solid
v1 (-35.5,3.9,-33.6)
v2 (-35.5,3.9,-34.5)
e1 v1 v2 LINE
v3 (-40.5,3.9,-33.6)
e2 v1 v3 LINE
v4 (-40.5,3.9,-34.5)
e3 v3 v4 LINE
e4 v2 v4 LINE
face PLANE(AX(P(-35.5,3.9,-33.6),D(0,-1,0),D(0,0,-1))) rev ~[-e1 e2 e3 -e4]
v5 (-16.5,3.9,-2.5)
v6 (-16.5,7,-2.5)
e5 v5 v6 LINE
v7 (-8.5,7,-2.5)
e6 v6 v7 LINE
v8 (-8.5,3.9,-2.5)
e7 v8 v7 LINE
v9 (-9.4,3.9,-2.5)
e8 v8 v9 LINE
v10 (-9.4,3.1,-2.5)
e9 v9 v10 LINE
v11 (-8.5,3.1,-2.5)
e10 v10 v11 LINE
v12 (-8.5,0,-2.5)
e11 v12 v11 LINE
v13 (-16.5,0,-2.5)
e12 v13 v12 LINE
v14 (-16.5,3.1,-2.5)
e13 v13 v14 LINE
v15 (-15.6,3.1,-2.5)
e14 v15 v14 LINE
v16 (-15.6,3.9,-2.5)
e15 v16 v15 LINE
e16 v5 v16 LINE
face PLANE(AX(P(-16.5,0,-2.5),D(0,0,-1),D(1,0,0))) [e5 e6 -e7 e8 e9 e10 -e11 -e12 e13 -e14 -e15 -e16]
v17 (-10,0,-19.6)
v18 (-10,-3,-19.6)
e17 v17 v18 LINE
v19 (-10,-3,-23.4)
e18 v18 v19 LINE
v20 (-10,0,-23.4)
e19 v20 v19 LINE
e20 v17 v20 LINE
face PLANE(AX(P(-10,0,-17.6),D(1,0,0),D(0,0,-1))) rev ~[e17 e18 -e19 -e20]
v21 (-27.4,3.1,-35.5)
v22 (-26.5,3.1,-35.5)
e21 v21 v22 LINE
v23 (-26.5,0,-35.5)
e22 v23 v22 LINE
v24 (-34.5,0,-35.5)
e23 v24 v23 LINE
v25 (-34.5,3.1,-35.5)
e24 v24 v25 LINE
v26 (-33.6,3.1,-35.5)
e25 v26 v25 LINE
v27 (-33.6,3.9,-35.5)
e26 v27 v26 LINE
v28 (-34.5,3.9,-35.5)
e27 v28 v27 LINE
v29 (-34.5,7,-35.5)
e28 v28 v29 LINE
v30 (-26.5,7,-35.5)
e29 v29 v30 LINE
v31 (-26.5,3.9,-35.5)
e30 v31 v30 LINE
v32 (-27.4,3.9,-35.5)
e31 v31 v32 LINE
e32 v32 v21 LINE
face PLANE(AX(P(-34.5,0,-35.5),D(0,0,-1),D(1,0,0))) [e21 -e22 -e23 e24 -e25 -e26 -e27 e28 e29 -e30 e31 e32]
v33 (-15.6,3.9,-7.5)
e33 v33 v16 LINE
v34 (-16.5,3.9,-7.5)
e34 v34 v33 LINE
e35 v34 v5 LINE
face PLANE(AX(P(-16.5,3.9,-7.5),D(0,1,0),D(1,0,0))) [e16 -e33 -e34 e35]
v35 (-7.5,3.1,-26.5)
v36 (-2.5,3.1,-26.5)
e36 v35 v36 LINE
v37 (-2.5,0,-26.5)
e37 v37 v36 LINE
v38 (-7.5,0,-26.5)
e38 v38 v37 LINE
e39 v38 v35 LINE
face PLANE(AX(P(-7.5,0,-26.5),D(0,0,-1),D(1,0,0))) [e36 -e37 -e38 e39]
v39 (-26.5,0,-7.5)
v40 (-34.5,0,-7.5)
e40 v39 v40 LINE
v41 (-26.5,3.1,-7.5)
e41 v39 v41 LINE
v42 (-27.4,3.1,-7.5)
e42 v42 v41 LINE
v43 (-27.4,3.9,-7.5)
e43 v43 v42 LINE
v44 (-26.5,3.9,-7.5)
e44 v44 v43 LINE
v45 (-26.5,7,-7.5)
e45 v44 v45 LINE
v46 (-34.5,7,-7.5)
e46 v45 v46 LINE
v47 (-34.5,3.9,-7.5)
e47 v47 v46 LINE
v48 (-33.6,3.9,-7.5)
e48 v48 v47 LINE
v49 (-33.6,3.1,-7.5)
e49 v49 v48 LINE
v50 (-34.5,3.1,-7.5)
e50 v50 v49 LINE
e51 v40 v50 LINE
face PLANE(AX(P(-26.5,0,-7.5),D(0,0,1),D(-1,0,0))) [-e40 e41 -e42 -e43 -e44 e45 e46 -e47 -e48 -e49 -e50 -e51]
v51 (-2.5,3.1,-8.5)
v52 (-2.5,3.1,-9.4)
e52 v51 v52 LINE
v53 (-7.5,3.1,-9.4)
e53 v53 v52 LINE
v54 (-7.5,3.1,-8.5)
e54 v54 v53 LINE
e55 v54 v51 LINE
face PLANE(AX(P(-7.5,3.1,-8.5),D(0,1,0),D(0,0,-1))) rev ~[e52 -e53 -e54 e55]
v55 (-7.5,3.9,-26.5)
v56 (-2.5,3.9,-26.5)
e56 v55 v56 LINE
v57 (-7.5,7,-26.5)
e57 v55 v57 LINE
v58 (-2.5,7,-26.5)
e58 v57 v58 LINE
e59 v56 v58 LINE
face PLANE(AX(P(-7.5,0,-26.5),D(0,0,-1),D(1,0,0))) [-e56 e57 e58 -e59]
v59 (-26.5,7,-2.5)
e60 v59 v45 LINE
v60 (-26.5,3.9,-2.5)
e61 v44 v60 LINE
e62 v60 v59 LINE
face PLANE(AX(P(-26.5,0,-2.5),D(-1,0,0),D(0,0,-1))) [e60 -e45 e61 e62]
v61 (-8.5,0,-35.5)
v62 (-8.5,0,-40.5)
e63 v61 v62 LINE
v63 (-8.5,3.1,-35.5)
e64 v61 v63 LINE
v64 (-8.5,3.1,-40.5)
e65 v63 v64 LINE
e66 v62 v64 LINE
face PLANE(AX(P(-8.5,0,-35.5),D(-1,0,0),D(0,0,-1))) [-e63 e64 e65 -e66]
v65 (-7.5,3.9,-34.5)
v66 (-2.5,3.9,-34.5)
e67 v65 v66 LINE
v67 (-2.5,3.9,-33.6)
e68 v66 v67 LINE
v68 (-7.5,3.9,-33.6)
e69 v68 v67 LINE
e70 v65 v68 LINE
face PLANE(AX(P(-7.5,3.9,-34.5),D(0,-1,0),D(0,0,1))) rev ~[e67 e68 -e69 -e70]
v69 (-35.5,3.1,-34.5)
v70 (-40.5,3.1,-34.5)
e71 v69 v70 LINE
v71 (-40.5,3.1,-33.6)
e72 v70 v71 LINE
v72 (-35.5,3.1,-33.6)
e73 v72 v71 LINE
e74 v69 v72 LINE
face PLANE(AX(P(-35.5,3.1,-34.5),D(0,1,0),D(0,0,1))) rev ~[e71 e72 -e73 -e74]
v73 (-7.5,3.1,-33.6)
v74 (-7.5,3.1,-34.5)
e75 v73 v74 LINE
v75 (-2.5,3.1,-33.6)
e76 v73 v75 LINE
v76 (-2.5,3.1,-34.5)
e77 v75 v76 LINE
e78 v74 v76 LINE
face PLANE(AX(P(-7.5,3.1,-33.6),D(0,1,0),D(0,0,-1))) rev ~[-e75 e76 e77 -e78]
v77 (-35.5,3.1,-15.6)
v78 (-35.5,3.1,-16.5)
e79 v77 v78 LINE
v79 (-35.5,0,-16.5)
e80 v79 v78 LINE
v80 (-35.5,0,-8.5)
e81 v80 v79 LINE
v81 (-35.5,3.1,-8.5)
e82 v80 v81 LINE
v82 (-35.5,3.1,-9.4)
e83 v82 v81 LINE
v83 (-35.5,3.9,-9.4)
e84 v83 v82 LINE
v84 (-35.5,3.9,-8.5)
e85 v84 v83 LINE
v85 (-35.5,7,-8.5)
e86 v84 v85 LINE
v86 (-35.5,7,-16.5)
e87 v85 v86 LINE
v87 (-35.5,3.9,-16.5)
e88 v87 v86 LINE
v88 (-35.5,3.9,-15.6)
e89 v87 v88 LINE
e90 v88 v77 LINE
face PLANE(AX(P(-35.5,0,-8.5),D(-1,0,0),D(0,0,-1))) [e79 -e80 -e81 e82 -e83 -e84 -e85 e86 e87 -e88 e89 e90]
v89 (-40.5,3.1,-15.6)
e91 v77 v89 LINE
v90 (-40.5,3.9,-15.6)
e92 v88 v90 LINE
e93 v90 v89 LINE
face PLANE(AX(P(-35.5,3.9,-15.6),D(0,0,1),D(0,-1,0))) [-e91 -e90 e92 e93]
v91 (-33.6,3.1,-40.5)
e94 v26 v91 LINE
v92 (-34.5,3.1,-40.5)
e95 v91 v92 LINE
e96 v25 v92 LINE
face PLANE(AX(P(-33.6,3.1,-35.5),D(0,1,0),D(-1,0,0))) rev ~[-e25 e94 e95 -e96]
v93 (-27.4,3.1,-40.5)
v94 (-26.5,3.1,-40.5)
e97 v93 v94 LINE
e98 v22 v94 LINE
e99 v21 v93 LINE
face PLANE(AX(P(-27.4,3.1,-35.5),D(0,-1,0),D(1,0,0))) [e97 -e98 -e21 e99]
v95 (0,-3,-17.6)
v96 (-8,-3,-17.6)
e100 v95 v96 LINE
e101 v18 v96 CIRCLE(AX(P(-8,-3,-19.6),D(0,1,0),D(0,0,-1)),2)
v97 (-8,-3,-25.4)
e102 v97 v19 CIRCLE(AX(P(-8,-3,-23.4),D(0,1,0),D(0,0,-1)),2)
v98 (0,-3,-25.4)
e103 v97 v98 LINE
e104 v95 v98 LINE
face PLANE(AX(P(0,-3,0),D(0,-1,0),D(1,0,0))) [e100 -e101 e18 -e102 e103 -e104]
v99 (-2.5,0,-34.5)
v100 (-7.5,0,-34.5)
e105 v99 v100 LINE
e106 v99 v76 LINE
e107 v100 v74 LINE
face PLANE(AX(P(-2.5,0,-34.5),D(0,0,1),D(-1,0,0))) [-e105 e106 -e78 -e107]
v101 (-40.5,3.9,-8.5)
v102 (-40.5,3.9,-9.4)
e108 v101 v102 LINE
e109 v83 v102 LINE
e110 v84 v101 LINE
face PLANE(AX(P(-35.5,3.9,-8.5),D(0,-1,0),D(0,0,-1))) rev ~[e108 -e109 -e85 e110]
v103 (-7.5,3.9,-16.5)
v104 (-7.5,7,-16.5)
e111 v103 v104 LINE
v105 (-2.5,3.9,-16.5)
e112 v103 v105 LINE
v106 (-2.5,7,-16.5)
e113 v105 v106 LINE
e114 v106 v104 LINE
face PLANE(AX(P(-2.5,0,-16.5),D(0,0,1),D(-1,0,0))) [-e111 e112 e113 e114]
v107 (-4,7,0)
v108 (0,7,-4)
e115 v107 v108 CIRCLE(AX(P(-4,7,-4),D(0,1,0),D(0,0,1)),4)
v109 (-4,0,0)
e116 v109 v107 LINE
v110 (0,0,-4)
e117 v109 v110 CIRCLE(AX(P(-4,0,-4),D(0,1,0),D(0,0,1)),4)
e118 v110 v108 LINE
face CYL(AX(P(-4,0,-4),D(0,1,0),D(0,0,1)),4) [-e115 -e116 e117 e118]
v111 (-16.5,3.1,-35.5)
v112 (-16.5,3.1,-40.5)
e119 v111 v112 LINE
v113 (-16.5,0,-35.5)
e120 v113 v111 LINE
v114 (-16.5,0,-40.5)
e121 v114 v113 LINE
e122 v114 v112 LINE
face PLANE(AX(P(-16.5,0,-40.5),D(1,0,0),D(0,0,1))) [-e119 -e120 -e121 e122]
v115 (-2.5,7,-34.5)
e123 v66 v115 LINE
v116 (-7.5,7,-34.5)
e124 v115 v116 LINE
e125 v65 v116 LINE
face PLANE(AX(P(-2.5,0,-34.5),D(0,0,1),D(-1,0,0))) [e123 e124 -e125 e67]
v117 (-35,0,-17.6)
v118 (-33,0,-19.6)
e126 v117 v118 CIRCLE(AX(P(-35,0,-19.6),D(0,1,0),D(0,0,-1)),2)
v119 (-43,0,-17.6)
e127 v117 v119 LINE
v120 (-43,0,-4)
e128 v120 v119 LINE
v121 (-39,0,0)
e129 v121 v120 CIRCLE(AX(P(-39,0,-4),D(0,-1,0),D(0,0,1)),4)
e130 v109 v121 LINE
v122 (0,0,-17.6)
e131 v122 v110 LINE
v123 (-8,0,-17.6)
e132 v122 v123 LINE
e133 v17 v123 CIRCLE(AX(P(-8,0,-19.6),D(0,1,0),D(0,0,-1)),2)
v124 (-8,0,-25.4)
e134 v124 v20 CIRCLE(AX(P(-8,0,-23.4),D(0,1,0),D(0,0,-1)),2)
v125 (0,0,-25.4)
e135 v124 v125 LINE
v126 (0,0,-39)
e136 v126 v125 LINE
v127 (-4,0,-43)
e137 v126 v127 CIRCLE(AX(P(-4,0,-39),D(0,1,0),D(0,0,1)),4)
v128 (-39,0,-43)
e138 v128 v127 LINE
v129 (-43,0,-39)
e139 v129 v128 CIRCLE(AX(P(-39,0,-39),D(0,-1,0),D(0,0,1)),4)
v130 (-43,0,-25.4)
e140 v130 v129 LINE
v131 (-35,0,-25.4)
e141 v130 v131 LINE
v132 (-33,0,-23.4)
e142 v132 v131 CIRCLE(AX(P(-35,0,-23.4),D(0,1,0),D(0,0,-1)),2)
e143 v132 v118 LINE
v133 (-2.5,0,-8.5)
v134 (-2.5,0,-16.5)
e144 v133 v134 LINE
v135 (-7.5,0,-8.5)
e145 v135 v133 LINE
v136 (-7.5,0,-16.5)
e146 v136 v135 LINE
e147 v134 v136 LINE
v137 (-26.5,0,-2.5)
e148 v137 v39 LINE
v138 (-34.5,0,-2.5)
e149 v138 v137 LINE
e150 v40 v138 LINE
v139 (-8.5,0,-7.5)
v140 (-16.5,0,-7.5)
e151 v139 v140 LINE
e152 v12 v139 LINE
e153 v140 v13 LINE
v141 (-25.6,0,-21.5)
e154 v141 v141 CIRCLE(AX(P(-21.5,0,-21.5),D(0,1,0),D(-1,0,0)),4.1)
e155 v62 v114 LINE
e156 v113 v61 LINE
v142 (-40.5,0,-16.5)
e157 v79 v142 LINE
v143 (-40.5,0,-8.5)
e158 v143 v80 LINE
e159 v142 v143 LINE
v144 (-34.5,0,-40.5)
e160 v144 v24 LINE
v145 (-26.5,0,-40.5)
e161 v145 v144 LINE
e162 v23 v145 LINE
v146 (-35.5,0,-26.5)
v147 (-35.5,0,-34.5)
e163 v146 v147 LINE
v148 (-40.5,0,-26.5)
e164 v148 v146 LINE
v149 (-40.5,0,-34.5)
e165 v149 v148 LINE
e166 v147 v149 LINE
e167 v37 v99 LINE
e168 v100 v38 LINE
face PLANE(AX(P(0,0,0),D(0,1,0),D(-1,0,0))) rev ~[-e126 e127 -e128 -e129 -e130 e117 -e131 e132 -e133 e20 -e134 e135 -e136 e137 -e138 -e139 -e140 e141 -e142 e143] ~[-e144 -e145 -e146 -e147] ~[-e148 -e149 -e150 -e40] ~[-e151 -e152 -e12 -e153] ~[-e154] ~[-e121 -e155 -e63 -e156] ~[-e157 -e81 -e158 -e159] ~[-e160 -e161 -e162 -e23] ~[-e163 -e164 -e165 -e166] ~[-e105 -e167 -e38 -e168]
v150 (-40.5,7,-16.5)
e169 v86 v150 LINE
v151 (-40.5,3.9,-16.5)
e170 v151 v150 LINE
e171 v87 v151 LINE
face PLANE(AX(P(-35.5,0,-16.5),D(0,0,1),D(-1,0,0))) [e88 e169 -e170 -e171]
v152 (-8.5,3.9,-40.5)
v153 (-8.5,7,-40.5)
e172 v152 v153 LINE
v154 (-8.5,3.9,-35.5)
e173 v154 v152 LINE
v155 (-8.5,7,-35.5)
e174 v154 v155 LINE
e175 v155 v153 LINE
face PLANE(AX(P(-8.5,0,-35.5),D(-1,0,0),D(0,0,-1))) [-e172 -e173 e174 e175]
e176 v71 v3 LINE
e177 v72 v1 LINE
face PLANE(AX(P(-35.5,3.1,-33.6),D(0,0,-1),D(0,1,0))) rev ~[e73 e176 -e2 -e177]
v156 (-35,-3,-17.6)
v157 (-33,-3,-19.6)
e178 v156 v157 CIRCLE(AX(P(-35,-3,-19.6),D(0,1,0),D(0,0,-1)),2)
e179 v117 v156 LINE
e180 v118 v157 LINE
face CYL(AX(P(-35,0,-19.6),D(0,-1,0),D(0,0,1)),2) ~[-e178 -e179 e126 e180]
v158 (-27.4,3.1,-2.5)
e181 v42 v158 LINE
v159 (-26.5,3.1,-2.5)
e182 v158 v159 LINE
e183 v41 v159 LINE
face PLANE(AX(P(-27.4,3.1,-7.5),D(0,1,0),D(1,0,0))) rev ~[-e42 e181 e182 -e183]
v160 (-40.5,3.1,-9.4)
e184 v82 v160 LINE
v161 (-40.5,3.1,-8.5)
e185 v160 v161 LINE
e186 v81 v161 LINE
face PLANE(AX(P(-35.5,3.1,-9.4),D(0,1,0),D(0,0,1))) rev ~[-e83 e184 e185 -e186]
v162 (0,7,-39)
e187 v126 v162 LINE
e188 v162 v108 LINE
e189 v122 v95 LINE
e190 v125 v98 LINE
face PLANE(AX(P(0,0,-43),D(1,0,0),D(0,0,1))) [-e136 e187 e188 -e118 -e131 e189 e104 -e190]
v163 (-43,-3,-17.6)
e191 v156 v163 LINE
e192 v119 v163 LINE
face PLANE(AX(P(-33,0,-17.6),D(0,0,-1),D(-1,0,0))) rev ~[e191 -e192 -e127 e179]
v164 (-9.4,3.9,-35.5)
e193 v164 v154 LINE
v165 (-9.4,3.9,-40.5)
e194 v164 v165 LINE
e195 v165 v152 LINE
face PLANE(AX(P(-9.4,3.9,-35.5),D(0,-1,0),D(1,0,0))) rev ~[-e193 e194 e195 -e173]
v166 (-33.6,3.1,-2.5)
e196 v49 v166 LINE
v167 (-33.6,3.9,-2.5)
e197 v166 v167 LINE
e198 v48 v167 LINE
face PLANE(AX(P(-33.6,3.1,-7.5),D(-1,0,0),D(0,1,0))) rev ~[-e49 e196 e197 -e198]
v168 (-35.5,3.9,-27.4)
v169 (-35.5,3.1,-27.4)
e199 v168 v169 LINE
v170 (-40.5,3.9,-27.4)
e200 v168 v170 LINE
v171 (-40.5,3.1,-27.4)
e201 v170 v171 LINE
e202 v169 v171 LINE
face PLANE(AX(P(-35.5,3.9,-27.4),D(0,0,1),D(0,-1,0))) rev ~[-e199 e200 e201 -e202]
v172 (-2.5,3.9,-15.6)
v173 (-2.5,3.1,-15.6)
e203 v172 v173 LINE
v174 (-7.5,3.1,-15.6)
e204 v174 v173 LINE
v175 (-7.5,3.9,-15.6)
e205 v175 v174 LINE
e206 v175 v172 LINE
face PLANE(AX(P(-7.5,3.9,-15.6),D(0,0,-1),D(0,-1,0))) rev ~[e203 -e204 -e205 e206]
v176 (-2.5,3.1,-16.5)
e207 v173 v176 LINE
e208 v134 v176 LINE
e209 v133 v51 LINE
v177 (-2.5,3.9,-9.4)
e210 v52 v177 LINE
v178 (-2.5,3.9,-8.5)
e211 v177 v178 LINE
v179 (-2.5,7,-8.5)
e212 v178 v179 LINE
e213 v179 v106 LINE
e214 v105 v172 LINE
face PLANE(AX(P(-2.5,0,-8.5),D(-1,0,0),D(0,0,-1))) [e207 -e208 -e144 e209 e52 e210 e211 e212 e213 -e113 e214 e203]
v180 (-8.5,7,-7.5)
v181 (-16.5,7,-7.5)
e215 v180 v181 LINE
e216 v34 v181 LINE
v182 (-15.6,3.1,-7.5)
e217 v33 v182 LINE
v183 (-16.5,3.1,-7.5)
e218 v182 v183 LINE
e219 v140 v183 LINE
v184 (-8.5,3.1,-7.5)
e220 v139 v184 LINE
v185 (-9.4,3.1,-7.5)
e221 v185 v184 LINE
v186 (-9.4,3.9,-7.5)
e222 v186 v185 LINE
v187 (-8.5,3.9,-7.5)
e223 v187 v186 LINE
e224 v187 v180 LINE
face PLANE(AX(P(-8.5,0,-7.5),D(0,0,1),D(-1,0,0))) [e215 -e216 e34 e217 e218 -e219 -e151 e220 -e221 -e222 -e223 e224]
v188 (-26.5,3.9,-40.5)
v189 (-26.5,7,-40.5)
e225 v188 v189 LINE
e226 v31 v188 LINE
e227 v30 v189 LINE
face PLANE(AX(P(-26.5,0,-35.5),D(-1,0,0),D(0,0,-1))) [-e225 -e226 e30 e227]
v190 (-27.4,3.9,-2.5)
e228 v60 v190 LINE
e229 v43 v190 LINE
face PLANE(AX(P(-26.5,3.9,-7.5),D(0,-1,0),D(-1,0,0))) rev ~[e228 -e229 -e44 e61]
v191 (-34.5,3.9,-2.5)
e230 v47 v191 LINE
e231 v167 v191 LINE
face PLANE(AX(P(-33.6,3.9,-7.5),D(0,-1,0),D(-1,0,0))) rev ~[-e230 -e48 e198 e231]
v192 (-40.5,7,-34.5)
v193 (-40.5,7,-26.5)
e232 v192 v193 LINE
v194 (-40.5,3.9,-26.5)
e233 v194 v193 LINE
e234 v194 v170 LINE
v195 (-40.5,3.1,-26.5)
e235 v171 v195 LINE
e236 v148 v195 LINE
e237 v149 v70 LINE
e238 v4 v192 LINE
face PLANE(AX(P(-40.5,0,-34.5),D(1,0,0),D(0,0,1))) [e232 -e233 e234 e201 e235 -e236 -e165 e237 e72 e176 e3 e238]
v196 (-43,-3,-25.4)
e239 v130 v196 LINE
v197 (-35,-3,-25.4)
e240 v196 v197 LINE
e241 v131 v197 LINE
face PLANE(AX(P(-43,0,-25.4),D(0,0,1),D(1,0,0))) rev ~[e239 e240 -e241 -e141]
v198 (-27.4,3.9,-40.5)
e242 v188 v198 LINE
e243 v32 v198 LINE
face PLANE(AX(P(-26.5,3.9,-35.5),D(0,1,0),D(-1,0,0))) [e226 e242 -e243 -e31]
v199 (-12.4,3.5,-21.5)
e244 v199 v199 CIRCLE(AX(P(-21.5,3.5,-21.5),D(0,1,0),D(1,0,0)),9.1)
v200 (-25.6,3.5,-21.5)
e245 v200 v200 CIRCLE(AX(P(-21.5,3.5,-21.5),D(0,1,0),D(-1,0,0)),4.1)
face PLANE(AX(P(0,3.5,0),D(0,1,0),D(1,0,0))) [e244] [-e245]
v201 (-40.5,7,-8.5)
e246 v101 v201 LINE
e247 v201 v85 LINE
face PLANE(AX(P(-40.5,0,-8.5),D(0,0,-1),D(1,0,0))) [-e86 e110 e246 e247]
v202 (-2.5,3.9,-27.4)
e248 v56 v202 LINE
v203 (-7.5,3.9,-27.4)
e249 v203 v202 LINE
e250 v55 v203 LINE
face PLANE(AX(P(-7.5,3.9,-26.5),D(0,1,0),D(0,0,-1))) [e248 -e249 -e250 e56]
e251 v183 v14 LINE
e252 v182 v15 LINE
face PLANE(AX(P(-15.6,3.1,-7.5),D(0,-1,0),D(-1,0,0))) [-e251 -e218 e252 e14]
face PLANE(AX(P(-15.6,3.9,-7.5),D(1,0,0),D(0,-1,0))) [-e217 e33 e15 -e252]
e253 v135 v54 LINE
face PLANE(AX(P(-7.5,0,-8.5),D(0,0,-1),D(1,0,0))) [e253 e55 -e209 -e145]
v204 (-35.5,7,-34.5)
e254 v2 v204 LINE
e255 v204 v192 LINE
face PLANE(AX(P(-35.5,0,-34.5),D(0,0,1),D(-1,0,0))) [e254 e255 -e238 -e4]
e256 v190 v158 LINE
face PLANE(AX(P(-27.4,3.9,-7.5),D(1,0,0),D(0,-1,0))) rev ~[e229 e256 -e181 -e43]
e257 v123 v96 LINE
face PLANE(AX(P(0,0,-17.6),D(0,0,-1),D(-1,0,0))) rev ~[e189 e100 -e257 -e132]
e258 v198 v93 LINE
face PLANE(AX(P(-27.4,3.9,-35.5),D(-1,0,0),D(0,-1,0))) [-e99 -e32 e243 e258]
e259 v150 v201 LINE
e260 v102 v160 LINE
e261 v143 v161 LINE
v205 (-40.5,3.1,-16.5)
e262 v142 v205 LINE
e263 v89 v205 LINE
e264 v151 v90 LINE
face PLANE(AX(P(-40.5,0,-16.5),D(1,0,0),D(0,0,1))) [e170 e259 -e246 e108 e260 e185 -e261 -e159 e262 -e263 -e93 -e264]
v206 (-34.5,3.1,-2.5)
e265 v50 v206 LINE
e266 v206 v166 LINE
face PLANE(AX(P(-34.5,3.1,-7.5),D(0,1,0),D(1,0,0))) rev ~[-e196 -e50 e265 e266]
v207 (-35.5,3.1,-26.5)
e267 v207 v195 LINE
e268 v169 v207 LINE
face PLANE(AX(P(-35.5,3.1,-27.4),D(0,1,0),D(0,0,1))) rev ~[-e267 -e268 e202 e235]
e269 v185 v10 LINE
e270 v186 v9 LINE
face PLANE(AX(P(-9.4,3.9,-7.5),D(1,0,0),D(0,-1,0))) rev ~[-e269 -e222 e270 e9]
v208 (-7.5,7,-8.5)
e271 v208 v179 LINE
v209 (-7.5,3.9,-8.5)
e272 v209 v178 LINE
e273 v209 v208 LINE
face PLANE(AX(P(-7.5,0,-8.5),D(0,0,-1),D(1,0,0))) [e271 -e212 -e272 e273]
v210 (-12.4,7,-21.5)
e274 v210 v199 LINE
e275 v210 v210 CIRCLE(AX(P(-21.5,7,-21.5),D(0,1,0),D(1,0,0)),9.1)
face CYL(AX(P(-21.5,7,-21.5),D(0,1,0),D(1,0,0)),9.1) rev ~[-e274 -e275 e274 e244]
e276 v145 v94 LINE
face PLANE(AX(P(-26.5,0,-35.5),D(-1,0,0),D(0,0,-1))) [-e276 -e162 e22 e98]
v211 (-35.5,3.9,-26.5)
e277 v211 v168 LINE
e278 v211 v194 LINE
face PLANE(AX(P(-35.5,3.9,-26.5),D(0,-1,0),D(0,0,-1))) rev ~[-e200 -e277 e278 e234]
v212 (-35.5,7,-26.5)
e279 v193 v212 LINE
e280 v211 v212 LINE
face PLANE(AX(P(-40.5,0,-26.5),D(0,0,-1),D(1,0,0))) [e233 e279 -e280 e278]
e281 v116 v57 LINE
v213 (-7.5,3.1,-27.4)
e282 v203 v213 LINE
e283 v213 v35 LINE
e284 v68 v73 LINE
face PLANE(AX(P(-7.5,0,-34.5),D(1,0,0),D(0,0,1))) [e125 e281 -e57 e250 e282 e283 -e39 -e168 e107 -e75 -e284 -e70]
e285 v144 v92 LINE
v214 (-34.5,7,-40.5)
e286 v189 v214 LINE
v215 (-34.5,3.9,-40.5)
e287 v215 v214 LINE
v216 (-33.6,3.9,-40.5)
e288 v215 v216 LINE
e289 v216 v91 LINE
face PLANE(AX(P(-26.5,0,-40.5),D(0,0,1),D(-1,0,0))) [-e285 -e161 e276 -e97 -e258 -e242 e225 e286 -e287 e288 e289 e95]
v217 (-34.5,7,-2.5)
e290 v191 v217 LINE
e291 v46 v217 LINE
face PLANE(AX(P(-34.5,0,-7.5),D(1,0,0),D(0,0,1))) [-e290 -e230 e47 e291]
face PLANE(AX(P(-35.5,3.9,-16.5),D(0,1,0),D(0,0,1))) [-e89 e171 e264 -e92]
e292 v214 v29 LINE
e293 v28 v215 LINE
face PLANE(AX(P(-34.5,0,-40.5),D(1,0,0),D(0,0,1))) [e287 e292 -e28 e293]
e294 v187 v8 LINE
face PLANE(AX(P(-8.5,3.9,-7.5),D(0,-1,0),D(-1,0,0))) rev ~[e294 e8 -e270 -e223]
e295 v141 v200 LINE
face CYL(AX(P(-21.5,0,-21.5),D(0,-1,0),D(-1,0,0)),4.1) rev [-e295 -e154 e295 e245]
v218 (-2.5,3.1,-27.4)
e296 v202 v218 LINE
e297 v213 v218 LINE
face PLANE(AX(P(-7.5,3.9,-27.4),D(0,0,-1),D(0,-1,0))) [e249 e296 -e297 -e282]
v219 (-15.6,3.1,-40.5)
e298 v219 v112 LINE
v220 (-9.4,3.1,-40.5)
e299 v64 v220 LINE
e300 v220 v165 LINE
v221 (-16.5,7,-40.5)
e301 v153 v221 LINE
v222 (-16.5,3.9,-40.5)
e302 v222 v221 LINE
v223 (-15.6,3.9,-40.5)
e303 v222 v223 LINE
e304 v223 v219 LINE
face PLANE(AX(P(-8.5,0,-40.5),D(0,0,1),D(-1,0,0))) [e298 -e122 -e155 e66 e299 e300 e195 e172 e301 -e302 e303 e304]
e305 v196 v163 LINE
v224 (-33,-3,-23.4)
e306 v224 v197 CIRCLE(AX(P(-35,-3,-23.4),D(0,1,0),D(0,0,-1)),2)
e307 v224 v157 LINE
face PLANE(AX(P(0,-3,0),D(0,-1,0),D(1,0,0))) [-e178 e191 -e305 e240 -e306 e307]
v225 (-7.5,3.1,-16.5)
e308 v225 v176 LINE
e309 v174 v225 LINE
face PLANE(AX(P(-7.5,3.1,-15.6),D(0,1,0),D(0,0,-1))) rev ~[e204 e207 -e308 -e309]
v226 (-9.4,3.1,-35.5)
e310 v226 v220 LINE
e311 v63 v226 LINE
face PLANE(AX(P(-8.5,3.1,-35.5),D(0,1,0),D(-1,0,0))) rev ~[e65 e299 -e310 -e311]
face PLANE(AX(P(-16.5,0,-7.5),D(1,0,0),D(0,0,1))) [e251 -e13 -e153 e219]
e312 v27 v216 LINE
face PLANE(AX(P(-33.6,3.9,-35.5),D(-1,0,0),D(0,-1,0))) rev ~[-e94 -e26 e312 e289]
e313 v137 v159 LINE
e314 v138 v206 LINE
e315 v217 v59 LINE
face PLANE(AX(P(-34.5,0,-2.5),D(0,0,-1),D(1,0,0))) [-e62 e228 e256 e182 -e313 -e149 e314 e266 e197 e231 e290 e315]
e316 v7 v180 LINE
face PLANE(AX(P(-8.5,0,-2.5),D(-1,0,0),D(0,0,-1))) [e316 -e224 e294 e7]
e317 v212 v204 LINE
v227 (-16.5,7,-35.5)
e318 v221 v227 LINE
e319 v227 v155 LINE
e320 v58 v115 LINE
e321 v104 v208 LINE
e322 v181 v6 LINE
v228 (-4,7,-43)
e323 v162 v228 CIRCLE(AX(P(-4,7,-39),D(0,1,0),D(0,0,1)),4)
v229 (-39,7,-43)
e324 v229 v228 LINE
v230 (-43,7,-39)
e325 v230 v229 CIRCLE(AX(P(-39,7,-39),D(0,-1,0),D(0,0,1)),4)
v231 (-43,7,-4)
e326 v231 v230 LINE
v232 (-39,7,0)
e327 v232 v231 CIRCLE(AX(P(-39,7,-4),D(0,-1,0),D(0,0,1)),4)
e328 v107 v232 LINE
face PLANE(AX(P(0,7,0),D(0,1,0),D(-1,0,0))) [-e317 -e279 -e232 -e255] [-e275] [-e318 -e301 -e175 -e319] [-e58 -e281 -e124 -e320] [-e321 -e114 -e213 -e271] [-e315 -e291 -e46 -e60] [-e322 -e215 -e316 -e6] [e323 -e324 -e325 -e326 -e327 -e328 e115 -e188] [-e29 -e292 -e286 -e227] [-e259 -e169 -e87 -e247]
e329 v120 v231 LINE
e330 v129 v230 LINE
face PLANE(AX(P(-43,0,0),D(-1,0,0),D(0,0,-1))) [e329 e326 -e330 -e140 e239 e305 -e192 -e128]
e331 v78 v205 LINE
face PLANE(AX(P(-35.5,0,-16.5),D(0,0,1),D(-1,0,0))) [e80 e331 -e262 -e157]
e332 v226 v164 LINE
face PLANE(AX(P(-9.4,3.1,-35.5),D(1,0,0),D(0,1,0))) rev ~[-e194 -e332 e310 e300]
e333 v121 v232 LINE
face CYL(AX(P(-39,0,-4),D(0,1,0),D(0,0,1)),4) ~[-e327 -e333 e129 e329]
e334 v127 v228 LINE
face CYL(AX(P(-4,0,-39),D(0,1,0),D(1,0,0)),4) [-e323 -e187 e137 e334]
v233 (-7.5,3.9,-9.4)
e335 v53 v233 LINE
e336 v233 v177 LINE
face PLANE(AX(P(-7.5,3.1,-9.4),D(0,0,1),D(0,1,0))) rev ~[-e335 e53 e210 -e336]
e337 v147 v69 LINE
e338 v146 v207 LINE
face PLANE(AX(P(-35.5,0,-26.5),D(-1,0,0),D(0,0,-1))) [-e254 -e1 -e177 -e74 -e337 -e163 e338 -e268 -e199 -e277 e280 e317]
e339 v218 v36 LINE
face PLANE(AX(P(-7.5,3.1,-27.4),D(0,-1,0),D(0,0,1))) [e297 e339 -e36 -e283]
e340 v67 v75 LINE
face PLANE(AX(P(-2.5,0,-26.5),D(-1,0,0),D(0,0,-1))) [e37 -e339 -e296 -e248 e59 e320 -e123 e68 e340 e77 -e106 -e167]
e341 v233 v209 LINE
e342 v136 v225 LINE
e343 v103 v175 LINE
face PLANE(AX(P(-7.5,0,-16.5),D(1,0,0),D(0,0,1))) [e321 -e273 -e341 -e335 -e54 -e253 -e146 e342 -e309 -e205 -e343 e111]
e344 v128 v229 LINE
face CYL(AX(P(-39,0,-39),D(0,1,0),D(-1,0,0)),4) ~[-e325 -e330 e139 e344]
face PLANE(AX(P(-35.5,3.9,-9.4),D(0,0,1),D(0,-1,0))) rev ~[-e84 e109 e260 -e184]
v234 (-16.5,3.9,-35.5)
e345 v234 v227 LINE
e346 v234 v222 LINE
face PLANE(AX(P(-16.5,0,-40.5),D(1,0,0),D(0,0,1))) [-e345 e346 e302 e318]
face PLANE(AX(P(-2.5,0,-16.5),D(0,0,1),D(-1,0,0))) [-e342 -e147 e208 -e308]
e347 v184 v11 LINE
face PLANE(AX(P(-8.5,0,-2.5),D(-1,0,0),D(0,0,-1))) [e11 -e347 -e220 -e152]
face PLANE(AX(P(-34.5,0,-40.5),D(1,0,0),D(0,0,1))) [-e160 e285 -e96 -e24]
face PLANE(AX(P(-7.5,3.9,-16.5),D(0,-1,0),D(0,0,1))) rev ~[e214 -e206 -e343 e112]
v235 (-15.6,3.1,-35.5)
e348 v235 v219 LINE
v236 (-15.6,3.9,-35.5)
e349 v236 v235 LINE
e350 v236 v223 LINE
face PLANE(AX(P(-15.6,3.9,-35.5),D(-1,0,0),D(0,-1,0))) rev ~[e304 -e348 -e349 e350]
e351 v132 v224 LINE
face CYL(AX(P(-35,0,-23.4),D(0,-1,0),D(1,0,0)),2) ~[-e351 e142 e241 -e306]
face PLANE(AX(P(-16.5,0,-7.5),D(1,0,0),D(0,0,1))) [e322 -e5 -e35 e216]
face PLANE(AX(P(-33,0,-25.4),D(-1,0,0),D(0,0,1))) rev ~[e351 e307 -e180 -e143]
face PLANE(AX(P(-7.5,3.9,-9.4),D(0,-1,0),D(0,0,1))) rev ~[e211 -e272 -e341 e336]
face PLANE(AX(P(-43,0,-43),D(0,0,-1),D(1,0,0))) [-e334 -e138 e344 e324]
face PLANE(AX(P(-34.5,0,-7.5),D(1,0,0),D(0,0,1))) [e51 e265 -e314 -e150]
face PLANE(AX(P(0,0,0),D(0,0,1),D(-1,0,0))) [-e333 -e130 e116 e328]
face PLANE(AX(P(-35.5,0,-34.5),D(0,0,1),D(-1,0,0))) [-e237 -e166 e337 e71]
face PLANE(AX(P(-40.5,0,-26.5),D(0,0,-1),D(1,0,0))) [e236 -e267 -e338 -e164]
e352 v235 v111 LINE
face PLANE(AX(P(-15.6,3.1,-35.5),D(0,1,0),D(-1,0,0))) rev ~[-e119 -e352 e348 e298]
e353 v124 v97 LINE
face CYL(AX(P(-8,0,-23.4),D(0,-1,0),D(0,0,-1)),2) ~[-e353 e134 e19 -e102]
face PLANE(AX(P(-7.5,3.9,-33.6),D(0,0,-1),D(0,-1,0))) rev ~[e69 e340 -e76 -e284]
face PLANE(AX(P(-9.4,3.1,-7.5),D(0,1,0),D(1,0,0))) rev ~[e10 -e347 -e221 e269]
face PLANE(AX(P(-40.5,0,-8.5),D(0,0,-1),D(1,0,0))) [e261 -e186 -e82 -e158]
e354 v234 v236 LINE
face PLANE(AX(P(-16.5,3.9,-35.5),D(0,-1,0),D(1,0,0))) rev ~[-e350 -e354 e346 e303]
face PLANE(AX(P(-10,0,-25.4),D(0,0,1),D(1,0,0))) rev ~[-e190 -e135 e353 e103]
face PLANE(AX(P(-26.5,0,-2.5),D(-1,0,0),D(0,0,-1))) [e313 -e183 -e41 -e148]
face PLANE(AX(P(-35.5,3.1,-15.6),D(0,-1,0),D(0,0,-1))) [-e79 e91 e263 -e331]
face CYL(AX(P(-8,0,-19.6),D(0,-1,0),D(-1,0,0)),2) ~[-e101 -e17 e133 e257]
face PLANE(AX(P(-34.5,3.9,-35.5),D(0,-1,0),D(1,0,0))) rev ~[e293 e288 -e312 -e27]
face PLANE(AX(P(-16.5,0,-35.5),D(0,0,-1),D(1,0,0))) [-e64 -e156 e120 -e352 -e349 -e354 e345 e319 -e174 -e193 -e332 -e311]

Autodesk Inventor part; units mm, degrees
ref_plane "YZ Plane" through (0, 0, 0) normal (1, 0, 0) x (0, 1, 0)
ref_plane "XZ Plane" through (0, 0, 0) normal (0, 1, 0) x (-1, 0, 0)
ref_plane "XY Plane" through (0, 0, 0) normal (0, 0, 1) x (1, 0, 0)
sketch "Sketch1" plane through (0, 0, 0) normal (0, 1, 0) x (-1, 0, 0)
  line L0 (0, 0) -> (43, 0)
  line L1 (43, 0) -> (43, -43)
  line L2 (43, -43) -> (0, -43)
  line L3 (0, -43) -> (0, 0)
  circle A0 centre (21.5, -21.5) radius 4.1
  line L4 (21.5, -43) -> (21.5, -21.5) construction
  line L5 (21.5, -21.5) -> (0, -21.5) construction
  line L6 (34.5, -35.5) -> (26.5, -35.5)
  line L7 (26.5, -35.5) -> (26.5, -40.5)
  line L8 (26.5, -40.5) -> (34.5, -40.5)
  line L9 (34.5, -40.5) -> (34.5, -35.5)
  line L10 (16.5, -35.5) -> (8.5, -35.5)
  line L11 (8.5, -35.5) -> (8.5, -40.5)
  line L12 (8.5, -40.5) -> (16.5, -40.5)
  line L13 (16.5, -40.5) -> (16.5, -35.5)
  line L14 (12.5, -35.5) -> (12.5, -40.5) construction
  line L15 (30.5, -35.5) -> (30.5, -40.5) construction
  line L16 (12.5, -38) -> (30.5, -38) construction
  line L17 (7.5, -34.5) -> (7.5, -26.5)
  line L18 (2.5, -34.5) -> (7.5, -34.5)
  line L19 (2.5, -26.5) -> (2.5, -34.5)
  line L20 (7.5, -26.5) -> (2.5, -26.5)
  line L21 (2.5, -16.5) -> (7.5, -16.5)
  line L22 (2.5, -8.5) -> (2.5, -16.5)
  line L23 (7.5, -16.5) -> (7.5, -8.5)
  line L24 (7.5, -8.5) -> (2.5, -8.5)
  line L25 (8.5, -7.5) -> (16.5, -7.5)
  line L26 (8.5, -2.5) -> (8.5, -7.5)
  line L27 (16.5, -2.5) -> (8.5, -2.5)
  line L28 (16.5, -7.5) -> (16.5, -2.5)
  line L29 (26.5, -2.5) -> (26.5, -7.5)
  line L30 (34.5, -2.5) -> (26.5, -2.5)
  line L31 (26.5, -7.5) -> (34.5, -7.5)
  line L32 (34.5, -7.5) -> (34.5, -2.5)
  line L33 (35.5, -8.5) -> (35.5, -16.5)
  line L34 (40.5, -8.5) -> (35.5, -8.5)
  line L35 (40.5, -16.5) -> (40.5, -8.5)
  line L36 (35.5, -16.5) -> (40.5, -16.5)
  line L37 (40.5, -26.5) -> (35.5, -26.5)
  line L38 (40.5, -34.5) -> (40.5, -26.5)
  line L39 (35.5, -26.5) -> (35.5, -34.5)
  line L40 (35.5, -34.5) -> (40.5, -34.5)
  point P0 (21.5, -38)
  point P1 (7.5, -30.5)
  point P2 (2.5, -30.5)
  point P3 (2.5, -12.5)
  point P4 (7.5, -12.5)
  point P5 (12.5, -7.5)
  point P6 (12.5, -2.5)
  point P7 (30.5, -2.5)
  point P8 (30.5, -7.5)
  point P9 (35.5, -12.5)
  point P10 (40.5, -12.5)
  point P11 (40.5, -30.5)
  point P12 (35.5, -30.5)
  dimension "d0" = 43
  dimension "d1" = 8.2
  dimension "d2" = 18
  dimension "d3" = 8
  dimension "d4" = 5
  dimension "d8" = 14
  dimension "d11" = 360
extrude "Extrusion1" add sketch "Sketch1" along normal blind 7
sketch "Sketch3" plane through (-26.5, 0, -35.5) normal (0, 0, -1) x (-1, 0, 0)
  line L0 (0, 0) -> (0, 7) projected
  line L1 (0, 3.9) -> (0.9, 3.9)
  line L2 (0.9, 3.9) -> (0.9, 3.1)
  line L3 (0.9, 3.1) -> (0, 3.1)
  line L4 (0, 3.1) -> (0, 3.9)
  line L5 (8, 3.9) -> (7.1, 3.9)
  line L6 (7.1, 3.9) -> (7.1, 3.1)
  line L7 (7.1, 3.1) -> (8, 3.1)
  line L8 (8, 3.1) -> (8, 3.1)
  line L9 (0, 7) -> (8, 7) projected
  line L10 (8, 7) -> (8, 3.1)
  line L11 (8, 3.1) -> (8, 0.9742)
  line L12 (8, 3.1) -> (8, 3.9)
  line L13 (7.1, 3.5) -> (0.9, 3.5) construction
  line L14 (3.9585, 7) -> (3.9585, 0) construction
  line L15 (0, 0) -> (8, 0) projected
  point P0 (-26.5, 0)
  point P1 (3.9585, 3.5)
  point P2 (0, 3.1)
  dimension "d15" = 0.8
  dimension "d16" = 0.9
extrude "Extrusion2" add sketch "Sketch3" along normal up to surface (5 mm away)
sketch "Sketch4" plane through (-8.5, 0, -35.5) normal (0, 0, -1) x (-1, 0, 0)
  line L0 (8, 3.9) -> (7.1, 3.9)
  line L1 (7.1, 3.9) -> (7.1, 3.1)
  line L2 (7.1, 3.1) -> (8, 3.1)
  line L3 (8, 3.1) -> (8, 3.9)
  line L4 (0.9, 3.9) -> (0, 3.9)
  line L5 (0, 3.9) -> (0, 3.1)
  line L6 (0, 3.1) -> (0.9, 3.1)
  line L7 (0.9, 3.1) -> (0.9, 3.9)
  line L8 (0, 7) -> (8, 7) projected
  line L9 (3.7202, 7) -> (3.7202, 0) construction
  line L10 (0, 0) -> (8, 0) projected
  line L11 (7.1, 3.5) -> (3.7202, 3.5) construction
  line L12 (0.9, 3.5) -> (3.7202, 3.5) construction
  line L13 (0, 0) -> (0, 7) projected
  line L14 (8, 0) -> (8, 7) projected
  point P0 (-8.5, 0)
  dimension "d19" = 0.9
  dimension "d20" = 0.8
extrude "Extrusion4" add sketch "Sketch4" along normal up to surface (5 mm away) contours L3 L2 L1 L0 | L4 L7 L6 L5
pattern_circular "Circular Pattern1" count 4 over 360 about axis through (-21.5, 0, -21.5) along (0, 1, 0) of "Extrusion4", "Extrusion2"
fillet "Fillet1" radius 4 4 edges at (-43, 3.5, -43) (-43, 3.5, 0) (0, 3.5, 0) (0, 3.5, -43)
sketch "Sketch6" plane through (0, 7, 0) normal (0, 1, 0) x (1, 0, 0)
  circle A0 centre (-21.5, 21.5) radius 4.1 projected
  circle A1 centre (-21.5, 21.5) radius 9.1
  point P0 (0, 0)
  dimension "d30" = 18.2
extrude "Extrusion5" cut sketch "Sketch6" against normal blind 3.5
sketch "Sketch7" plane through (0, 0, 0) normal (0, -1, 0) x (1, 0, 0)
  line L0 (0, -4) -> (0, -39) projected
  line L1 (0, -17.6) -> (-10, -17.6)
  line L2 (-10, -17.6) -> (-10, -25.4)
  line L3 (-10, -25.4) -> (0, -25.4)
  line L4 (0, -25.4) -> (0, -17.6)
  line L5 (-43, -39) -> (-43, -4) projected
  line L6 (-33, -17.6) -> (-43, -17.6)
  line L7 (-43, -17.6) -> (-43, -25.4)
  line L8 (-43, -25.4) -> (-33, -25.4)
  line L9 (-33, -25.4) -> (-33, -17.6)
  line L10 (-10, -21.5) -> (-33, -21.5) construction
  circle A0 centre (-21.5, -21.5) radius 4.1 projected
  point P0 (0, 0)
  point P1 (0, -25.4)
  dimension "d33" = 7.8
  dimension "d34" = 10
extrude "Extrusion6" add sketch "Sketch7" along normal blind 3 contours L0 L3 L2 L1 | L5 L6 L9 L8
fillet "Fillet2" radius 2 4 edges at (-33, -1.5, -25.4) (-33, -1.5, -17.6) (-10, -1.5, -25.4) (-10, -1.5, -17.6)
properties part number "SigmaSideConnection"
